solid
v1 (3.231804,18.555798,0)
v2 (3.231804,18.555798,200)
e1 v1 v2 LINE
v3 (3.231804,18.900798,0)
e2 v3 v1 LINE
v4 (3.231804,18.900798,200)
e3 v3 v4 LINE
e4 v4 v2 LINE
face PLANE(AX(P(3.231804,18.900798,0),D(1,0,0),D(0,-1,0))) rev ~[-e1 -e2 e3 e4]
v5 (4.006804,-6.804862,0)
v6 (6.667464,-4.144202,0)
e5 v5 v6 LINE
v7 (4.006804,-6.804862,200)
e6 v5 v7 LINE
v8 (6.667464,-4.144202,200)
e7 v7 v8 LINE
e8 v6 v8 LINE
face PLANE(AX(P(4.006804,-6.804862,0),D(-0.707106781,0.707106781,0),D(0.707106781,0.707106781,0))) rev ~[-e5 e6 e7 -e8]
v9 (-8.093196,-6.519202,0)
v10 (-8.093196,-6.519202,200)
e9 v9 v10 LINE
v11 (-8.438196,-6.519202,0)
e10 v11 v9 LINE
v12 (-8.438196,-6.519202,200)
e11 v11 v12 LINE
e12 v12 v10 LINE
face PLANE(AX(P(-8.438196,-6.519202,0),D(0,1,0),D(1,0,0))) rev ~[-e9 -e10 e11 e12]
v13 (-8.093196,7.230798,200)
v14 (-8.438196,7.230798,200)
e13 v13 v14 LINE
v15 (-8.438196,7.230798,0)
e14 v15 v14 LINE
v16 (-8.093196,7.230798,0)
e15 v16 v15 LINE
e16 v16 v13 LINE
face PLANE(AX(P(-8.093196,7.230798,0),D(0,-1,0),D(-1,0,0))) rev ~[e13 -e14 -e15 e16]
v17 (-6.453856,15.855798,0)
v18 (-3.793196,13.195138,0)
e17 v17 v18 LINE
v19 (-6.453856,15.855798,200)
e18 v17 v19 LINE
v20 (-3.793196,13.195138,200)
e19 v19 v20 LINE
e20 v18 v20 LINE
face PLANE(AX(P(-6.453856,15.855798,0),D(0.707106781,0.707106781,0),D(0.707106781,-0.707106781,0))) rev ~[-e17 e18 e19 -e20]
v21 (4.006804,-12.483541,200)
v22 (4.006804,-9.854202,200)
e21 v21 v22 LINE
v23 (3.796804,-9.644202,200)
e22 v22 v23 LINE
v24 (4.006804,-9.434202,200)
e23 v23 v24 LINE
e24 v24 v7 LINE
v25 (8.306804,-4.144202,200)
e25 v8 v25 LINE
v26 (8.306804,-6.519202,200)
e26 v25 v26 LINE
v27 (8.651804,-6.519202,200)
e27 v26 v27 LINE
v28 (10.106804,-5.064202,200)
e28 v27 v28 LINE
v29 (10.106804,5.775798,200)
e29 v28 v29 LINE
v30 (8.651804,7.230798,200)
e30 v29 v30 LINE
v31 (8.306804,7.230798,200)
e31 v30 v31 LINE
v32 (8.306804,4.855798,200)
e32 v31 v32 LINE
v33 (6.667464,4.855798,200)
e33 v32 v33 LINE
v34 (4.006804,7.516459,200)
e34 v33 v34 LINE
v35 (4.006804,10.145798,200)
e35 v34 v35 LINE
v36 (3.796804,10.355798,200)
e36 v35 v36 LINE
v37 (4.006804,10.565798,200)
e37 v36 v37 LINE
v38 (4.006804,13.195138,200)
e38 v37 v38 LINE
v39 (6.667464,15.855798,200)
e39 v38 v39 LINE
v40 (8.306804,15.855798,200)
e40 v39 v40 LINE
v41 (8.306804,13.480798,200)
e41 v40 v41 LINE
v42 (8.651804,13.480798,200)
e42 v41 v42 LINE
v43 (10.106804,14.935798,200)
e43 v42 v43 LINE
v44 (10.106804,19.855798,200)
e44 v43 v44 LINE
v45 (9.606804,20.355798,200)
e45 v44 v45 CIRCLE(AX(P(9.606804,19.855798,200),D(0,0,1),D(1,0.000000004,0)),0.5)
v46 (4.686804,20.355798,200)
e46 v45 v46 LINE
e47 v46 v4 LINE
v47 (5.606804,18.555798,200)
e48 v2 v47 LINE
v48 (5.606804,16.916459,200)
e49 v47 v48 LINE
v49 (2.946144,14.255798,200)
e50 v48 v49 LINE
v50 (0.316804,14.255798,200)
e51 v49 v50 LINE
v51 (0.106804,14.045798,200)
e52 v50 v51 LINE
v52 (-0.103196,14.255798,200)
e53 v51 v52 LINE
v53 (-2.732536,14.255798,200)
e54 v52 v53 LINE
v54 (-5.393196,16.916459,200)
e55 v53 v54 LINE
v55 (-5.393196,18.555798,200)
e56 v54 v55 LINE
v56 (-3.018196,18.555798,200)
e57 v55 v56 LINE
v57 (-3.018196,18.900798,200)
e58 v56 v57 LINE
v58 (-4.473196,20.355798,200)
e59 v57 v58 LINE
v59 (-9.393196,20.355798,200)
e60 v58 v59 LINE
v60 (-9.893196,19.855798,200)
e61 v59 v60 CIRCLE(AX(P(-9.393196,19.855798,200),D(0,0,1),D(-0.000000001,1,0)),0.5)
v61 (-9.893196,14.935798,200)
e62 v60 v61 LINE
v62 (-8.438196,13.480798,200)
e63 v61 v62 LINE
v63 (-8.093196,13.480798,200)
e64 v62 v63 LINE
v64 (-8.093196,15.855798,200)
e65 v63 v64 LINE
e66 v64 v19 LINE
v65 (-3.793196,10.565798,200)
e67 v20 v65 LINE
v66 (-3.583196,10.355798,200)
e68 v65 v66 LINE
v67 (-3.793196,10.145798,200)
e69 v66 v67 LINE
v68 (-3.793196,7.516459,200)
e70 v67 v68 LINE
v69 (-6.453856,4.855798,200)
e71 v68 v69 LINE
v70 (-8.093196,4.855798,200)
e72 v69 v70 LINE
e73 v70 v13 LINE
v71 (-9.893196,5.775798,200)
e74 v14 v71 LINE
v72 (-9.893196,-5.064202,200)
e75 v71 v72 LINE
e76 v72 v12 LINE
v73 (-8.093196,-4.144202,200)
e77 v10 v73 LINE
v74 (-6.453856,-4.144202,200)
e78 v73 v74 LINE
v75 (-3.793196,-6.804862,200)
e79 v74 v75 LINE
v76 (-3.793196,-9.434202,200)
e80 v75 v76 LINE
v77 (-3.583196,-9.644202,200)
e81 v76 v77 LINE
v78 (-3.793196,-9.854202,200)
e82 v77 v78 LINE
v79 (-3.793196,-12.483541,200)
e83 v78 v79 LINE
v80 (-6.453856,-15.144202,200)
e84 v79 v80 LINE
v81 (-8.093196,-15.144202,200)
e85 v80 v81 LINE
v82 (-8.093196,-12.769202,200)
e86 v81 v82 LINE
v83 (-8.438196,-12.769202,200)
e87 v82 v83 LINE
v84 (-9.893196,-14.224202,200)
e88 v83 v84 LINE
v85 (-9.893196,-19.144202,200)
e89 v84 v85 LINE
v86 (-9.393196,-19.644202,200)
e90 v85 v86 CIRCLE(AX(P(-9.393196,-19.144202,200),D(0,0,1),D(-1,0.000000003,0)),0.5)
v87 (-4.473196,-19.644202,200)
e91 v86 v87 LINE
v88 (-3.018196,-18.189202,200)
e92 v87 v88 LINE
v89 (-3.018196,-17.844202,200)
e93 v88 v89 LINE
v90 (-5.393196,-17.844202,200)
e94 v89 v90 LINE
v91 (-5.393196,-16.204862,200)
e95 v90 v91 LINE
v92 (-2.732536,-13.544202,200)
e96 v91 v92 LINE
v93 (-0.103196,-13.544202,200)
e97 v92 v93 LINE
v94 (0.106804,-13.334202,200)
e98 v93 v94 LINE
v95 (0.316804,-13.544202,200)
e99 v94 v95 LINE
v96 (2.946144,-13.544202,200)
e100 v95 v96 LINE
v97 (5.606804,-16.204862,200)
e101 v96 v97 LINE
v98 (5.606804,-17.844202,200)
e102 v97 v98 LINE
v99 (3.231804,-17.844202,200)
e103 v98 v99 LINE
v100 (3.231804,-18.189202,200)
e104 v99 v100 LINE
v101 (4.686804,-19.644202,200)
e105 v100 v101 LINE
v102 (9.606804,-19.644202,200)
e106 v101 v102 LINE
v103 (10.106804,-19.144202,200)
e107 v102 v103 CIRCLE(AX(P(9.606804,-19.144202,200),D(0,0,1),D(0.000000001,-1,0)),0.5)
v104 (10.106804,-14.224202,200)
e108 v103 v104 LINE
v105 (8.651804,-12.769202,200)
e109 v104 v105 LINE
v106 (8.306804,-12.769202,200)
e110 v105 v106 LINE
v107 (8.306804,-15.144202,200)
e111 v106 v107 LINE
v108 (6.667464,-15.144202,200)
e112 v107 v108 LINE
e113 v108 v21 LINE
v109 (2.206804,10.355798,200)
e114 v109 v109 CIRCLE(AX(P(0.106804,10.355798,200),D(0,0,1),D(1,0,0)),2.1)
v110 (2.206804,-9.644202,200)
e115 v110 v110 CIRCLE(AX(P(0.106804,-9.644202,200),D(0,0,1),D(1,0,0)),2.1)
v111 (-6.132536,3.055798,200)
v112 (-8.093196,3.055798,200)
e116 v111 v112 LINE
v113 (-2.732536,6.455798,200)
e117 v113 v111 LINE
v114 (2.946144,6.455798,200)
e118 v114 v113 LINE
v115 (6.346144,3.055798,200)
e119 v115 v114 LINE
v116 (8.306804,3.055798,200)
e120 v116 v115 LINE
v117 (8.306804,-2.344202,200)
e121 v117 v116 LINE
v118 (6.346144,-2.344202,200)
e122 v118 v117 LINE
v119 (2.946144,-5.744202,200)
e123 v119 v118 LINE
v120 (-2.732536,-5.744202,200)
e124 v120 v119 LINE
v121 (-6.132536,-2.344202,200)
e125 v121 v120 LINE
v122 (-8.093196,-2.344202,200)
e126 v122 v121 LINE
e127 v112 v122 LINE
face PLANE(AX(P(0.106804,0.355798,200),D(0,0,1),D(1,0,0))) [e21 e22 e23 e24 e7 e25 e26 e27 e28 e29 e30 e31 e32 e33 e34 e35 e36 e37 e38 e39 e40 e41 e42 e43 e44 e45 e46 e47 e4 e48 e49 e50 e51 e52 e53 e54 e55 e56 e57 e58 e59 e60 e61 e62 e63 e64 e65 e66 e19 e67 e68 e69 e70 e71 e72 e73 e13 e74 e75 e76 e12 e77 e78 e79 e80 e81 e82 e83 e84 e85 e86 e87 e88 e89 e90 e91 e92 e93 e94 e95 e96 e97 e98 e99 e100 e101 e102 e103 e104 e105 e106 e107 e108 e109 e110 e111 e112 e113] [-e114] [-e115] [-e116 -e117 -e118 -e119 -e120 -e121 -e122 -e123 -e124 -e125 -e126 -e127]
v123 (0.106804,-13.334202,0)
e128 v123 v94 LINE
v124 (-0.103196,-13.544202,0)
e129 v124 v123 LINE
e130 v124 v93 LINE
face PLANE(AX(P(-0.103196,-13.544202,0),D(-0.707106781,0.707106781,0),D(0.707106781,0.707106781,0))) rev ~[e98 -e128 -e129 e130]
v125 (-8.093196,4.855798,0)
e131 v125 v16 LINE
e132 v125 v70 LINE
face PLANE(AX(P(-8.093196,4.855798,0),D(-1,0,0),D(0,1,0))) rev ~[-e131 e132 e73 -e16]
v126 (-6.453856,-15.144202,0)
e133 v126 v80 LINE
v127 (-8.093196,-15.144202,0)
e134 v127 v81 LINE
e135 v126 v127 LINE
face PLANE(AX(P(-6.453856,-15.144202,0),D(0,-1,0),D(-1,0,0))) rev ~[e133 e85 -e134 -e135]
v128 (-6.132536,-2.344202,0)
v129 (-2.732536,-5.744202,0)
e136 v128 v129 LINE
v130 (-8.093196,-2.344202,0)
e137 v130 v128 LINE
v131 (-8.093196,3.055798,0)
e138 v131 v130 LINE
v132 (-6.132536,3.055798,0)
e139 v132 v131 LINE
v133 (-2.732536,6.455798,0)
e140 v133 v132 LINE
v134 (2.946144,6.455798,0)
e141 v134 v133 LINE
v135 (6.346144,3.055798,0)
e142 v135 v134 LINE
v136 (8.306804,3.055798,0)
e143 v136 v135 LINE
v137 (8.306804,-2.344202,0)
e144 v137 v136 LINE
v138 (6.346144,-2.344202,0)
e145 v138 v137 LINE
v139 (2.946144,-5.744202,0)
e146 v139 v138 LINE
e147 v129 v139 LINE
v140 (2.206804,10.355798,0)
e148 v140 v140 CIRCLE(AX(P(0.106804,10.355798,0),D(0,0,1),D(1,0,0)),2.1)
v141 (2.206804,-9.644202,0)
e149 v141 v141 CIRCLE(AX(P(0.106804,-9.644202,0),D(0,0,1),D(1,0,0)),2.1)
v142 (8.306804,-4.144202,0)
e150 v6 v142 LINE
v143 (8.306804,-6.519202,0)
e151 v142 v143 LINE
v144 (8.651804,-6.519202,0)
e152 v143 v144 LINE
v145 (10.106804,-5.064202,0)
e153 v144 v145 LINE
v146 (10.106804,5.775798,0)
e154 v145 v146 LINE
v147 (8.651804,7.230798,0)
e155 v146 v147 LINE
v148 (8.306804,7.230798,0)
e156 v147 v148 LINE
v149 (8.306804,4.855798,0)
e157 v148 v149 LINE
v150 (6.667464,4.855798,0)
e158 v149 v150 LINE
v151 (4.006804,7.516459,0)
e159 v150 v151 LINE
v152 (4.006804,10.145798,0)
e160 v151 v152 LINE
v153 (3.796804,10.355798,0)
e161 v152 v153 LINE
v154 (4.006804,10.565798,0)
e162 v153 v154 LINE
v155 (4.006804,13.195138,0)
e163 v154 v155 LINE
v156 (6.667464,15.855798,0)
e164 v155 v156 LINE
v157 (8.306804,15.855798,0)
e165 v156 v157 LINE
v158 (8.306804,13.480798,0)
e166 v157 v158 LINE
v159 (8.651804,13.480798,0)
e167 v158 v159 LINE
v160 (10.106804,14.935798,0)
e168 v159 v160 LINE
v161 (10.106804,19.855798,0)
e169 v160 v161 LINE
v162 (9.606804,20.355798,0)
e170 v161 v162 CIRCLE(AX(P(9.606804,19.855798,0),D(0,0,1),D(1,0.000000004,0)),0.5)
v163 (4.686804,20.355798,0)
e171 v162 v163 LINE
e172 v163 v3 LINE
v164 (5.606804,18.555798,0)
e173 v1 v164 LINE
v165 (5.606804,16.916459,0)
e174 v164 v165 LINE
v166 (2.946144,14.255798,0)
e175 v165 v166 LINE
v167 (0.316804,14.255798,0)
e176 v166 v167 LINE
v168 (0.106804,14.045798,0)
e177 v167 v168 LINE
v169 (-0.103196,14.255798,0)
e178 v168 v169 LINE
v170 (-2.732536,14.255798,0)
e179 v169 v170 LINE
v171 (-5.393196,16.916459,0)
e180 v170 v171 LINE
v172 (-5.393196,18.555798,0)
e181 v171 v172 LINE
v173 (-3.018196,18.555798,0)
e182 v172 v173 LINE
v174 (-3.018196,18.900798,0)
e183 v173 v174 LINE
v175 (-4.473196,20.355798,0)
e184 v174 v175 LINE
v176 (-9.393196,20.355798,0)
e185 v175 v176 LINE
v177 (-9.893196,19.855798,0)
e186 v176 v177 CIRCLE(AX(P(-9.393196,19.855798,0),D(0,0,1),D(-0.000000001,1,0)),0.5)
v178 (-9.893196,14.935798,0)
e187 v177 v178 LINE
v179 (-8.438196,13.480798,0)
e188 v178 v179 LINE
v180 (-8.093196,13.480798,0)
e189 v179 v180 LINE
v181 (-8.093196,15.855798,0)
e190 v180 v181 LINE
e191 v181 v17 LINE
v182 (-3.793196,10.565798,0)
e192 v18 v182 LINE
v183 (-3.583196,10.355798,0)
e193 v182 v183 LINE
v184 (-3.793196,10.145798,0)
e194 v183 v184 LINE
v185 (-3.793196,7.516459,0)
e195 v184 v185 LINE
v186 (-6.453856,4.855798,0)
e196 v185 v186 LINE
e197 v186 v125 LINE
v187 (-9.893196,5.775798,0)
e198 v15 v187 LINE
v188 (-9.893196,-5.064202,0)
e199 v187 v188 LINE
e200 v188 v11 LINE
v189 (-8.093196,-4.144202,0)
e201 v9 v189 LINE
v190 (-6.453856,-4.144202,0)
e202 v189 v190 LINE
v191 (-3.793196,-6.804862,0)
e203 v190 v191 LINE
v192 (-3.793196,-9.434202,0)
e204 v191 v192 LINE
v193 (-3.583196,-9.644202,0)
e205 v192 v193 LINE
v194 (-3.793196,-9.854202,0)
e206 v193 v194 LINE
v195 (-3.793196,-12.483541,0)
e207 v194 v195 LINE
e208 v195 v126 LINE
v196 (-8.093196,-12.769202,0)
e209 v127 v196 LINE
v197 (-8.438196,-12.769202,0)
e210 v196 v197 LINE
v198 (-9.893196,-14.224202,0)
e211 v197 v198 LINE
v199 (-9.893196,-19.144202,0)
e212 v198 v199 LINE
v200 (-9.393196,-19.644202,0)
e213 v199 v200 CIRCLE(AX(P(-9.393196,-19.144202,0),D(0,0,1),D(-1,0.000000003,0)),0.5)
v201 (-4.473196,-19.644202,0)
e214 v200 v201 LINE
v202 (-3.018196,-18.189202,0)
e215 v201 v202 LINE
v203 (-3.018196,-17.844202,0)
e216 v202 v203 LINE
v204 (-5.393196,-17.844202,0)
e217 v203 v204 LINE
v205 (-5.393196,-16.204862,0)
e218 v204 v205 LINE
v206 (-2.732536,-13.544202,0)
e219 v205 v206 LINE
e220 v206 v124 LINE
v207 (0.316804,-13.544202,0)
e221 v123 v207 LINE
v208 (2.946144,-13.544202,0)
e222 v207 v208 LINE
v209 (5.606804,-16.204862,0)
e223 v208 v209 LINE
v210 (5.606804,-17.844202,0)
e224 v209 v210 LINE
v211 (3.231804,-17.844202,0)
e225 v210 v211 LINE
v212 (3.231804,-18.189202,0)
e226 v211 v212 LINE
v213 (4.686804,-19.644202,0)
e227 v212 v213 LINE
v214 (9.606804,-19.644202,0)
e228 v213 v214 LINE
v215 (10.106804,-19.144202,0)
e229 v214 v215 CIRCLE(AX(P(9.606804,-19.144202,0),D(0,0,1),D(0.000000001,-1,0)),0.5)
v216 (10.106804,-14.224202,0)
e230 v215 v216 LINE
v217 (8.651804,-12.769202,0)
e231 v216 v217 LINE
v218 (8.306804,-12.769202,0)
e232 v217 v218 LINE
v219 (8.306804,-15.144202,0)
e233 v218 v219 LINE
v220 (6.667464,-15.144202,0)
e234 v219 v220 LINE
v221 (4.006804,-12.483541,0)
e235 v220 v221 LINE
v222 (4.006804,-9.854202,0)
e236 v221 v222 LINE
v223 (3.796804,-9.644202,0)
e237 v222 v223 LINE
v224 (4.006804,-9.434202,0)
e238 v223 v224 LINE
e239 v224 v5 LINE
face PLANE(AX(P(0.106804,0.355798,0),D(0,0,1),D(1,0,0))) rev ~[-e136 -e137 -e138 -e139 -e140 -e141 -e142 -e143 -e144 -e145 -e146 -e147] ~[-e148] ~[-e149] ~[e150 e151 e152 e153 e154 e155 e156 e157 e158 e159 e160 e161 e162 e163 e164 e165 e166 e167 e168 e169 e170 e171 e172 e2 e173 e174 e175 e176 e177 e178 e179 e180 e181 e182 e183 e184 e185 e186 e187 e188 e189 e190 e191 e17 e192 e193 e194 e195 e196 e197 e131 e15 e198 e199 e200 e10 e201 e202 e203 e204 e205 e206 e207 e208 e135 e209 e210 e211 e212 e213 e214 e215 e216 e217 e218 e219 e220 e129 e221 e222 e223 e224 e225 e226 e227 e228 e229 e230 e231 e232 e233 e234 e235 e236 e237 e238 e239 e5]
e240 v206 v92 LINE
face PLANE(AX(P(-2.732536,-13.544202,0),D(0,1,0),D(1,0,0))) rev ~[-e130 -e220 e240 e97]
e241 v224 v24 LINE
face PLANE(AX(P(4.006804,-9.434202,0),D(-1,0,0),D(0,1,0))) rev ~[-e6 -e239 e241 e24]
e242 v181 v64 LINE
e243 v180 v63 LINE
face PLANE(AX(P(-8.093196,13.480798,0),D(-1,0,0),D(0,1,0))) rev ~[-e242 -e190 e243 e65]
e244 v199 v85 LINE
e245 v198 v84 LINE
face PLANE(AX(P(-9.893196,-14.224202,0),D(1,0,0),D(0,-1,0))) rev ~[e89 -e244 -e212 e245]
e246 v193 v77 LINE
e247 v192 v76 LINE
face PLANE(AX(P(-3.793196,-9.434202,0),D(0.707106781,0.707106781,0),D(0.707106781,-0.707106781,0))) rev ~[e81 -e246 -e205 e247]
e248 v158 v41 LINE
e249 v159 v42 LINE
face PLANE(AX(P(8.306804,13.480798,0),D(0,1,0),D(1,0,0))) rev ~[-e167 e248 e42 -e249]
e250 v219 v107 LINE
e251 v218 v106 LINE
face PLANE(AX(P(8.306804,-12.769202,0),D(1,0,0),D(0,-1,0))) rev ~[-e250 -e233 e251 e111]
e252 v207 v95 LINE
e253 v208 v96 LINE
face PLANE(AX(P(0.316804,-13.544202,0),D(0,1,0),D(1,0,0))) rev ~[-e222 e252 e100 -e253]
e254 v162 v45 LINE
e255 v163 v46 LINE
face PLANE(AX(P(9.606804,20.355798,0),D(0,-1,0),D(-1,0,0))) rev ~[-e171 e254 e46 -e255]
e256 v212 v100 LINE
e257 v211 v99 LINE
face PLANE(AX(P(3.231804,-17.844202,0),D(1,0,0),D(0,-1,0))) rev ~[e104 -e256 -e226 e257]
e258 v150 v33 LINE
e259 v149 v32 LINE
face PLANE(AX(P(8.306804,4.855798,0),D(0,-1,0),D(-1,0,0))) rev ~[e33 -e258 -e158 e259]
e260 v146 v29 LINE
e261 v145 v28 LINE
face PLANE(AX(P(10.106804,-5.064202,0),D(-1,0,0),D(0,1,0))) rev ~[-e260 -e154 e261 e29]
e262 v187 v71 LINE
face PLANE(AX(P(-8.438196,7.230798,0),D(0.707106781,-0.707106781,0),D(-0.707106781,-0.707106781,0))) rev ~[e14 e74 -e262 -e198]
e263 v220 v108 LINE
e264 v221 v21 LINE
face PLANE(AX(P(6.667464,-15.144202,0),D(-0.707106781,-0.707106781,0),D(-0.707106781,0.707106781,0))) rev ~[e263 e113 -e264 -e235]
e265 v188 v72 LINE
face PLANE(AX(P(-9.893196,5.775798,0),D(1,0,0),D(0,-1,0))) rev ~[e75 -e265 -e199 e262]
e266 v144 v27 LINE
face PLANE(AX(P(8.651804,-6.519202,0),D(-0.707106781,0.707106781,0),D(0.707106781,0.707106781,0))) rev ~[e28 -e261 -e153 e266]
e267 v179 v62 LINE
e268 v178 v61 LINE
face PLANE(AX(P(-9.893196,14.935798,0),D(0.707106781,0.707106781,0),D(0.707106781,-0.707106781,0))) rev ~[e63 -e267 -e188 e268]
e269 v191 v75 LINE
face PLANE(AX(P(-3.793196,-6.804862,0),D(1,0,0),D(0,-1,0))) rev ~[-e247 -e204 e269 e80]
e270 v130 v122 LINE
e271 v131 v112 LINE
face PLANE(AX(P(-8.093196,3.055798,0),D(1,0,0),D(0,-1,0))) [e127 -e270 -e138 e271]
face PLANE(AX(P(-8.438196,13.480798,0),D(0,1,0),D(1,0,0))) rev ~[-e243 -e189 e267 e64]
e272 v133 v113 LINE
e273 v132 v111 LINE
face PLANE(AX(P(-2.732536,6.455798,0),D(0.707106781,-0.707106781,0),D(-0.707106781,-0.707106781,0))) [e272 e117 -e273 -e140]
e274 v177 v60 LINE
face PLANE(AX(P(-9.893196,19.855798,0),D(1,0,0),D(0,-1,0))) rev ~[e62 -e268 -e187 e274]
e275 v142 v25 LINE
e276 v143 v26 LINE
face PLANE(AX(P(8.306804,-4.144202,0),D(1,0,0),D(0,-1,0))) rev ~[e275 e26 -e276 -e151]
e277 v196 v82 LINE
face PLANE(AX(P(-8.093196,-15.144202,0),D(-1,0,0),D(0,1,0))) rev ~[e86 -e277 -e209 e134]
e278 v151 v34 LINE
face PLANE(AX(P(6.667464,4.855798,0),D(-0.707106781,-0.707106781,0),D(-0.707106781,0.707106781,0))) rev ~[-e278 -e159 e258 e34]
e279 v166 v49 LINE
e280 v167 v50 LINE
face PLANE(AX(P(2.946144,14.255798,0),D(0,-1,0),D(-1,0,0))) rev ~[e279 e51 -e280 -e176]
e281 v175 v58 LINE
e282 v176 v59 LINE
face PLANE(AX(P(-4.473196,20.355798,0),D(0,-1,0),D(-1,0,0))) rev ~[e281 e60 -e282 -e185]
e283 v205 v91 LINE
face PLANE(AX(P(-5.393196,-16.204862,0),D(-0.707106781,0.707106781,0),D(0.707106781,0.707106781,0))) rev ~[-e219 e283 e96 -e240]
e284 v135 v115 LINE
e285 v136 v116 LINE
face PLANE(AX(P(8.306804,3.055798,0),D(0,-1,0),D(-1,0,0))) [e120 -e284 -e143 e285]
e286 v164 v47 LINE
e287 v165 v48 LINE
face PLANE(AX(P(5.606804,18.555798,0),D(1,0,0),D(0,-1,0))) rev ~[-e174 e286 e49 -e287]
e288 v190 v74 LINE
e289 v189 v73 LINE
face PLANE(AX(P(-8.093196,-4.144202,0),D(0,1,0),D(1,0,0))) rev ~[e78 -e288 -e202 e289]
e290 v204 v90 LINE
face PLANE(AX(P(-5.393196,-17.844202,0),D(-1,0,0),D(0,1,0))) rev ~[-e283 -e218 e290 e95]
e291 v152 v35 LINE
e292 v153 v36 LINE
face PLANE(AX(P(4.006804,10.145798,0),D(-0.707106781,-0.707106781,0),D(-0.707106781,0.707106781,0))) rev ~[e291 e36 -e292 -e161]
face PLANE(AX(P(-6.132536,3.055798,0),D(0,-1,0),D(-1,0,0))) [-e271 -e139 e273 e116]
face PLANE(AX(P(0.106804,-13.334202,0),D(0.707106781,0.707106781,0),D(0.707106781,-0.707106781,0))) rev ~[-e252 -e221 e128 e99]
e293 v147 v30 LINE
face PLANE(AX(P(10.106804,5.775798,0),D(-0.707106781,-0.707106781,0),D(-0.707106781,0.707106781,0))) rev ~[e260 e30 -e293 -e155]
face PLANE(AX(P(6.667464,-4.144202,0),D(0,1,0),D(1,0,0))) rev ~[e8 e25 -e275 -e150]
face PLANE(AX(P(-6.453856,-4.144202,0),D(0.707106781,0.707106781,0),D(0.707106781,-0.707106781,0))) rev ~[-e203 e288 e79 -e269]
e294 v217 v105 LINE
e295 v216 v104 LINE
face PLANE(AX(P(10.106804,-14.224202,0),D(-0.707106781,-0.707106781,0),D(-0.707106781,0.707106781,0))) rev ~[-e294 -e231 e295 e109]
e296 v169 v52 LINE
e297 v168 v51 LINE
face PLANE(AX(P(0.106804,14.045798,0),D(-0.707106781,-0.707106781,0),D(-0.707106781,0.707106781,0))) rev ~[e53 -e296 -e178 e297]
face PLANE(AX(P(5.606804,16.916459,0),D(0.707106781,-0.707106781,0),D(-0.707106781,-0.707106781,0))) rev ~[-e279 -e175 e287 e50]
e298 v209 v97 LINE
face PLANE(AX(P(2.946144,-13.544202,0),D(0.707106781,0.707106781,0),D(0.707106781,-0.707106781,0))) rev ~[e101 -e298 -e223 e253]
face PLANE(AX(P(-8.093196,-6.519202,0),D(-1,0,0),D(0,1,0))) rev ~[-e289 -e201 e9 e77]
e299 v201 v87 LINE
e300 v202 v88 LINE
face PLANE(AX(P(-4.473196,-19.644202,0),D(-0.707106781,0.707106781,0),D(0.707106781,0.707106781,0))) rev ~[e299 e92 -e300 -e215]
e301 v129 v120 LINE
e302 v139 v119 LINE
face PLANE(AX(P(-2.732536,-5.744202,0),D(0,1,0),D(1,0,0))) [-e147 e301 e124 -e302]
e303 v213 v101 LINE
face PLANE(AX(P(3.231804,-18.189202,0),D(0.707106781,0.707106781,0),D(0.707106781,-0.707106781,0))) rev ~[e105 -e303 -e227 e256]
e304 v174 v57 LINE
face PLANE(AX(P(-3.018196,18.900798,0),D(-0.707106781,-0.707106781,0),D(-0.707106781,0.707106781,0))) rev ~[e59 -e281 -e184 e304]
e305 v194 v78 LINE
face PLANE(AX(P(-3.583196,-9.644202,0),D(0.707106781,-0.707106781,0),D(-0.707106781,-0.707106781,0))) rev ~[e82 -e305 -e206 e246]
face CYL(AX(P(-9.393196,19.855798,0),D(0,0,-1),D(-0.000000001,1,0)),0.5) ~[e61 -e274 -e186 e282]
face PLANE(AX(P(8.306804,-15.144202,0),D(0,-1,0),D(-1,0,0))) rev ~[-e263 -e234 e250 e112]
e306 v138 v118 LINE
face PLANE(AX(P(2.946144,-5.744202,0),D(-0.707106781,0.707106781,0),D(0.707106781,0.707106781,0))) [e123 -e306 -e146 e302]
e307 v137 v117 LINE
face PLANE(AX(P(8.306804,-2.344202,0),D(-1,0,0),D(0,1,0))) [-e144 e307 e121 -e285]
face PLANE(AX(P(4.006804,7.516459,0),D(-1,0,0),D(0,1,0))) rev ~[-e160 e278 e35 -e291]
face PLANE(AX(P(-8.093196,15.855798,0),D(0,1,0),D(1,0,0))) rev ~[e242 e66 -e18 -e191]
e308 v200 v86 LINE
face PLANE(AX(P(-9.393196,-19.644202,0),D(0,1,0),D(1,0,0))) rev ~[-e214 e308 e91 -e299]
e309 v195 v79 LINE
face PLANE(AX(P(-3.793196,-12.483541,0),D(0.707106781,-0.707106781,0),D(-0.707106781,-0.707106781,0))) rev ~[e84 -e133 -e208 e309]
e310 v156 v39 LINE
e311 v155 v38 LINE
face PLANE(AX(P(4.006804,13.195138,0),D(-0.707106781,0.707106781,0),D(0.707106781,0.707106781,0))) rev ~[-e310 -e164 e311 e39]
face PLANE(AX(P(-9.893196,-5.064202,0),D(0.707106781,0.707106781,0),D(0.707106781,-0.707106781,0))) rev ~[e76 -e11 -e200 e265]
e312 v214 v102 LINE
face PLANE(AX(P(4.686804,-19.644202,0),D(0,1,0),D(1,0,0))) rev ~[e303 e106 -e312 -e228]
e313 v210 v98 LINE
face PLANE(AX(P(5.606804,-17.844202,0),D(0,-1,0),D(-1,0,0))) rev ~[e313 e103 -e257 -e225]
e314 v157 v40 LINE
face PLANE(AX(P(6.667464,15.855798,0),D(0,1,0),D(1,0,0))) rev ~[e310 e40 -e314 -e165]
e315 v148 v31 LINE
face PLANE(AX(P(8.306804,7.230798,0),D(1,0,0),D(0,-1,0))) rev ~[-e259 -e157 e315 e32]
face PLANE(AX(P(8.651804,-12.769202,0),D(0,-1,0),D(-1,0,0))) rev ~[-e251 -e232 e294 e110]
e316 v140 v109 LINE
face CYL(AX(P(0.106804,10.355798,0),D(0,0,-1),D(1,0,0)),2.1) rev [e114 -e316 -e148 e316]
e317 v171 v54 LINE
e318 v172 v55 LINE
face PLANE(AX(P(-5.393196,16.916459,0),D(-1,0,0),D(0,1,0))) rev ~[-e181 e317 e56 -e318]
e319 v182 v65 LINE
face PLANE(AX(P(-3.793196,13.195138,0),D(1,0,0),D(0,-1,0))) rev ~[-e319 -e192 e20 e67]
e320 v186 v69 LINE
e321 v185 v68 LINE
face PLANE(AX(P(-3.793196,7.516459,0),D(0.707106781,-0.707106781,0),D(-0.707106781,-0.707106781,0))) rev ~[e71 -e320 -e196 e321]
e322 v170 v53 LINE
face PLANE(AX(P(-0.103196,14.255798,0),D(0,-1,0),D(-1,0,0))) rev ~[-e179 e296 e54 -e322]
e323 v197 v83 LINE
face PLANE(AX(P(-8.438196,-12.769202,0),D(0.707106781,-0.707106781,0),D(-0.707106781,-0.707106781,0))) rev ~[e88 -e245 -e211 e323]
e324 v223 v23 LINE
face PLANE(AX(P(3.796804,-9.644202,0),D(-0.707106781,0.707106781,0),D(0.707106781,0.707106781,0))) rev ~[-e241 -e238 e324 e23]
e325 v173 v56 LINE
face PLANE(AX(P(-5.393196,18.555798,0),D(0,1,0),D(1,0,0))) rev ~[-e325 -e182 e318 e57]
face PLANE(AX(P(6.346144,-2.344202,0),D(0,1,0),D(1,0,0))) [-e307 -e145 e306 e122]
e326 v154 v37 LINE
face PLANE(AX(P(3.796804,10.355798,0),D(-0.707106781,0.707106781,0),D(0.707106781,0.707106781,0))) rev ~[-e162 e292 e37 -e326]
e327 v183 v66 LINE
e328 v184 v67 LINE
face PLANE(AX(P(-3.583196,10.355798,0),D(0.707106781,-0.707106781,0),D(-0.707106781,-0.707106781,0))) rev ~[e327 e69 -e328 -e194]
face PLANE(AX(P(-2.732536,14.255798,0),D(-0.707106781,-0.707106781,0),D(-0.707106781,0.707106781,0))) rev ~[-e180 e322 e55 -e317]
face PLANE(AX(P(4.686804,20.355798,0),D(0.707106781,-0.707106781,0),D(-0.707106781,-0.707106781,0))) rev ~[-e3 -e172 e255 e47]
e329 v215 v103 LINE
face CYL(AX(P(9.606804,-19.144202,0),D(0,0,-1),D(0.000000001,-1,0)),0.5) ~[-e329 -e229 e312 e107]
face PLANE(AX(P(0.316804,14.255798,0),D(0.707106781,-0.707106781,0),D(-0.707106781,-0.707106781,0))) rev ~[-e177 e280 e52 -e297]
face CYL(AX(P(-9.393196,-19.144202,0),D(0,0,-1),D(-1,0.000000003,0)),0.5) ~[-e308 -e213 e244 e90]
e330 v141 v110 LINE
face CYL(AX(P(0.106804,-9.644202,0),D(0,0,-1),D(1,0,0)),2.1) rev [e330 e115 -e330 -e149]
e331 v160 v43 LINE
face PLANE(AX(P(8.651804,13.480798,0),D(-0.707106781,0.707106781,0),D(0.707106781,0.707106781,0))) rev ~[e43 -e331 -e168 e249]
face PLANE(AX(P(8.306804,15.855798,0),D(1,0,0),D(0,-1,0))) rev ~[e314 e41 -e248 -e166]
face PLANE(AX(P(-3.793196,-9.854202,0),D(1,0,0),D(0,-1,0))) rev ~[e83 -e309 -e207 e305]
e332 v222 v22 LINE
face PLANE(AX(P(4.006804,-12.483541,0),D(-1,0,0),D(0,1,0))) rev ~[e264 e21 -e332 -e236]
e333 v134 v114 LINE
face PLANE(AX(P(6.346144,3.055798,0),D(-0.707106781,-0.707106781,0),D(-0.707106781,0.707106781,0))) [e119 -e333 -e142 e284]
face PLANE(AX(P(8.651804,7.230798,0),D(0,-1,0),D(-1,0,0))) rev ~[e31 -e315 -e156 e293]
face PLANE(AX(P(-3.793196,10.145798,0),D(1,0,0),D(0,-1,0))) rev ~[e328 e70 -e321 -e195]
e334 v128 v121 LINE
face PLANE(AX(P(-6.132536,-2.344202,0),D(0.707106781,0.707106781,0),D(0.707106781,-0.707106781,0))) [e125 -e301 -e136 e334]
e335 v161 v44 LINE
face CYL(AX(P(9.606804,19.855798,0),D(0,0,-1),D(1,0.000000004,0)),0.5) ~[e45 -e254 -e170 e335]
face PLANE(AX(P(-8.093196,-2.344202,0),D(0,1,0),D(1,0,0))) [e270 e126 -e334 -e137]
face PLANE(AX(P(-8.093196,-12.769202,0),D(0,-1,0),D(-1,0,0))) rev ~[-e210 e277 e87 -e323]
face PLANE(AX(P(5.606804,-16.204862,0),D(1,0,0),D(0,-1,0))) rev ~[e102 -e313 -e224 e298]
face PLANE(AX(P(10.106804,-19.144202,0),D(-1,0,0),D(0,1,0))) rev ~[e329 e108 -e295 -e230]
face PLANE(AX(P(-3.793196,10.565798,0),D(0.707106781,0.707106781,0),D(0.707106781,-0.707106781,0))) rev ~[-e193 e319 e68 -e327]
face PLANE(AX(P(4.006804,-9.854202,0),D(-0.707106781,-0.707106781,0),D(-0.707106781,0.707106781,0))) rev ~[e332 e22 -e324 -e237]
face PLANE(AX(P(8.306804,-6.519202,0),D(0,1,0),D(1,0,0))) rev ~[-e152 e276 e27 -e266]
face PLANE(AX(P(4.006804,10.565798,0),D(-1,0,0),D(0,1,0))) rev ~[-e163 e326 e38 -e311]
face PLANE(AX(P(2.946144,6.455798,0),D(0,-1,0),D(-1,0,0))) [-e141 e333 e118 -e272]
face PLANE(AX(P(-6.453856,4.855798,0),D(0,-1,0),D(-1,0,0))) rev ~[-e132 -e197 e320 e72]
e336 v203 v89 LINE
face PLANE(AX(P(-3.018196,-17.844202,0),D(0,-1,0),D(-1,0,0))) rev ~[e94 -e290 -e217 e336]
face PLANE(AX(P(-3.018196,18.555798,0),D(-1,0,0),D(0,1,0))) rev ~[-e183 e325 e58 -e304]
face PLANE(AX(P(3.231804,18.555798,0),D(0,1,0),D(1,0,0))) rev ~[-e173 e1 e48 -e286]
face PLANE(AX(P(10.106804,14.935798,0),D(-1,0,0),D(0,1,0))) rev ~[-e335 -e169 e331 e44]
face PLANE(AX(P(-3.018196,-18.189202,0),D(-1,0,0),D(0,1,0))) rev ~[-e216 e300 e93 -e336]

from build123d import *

# Parameters (mm, degrees)
SKETCH2_R           = 2.1
BOSS_EXTRUDE1_DEPTH = 200


with BuildPart() as part:
    # Sketch2 → Boss-Extrude1 (new body)
    with BuildSketch(Plane.XY):
        with BuildLine():
            Line((4.006804208, 10.145798499), (3.796804208, 10.355798499))
            Line((3.796804208, 10.355798499), (4.006804208, 10.565798499))
            Line((4.006804208, 10.565798499), (4.006804208, 13.195138327))
            Line((4.006804208, 13.195138327), (6.66746438, 15.855798499))
            Line((6.66746438, 15.855798499), (8.306804208, 15.855798499))
            Line((8.306804208, 15.855798499), (8.306804208, 13.480798499))
            Line((8.306804208, 13.480798499), (8.651804208, 13.480798499))
            Line((8.651804208, 13.480798499), (10.106804208, 14.935798499))
            Line((10.106804208, 14.935798499), (10.106804208, 19.855798499))
            ThreePointArc((10.106804208, 19.855798499), (9.960357598, 20.209351889), (9.606804208, 20.355798499))
            Line((9.606804208, 20.355798499), (4.686804208, 20.355798499))
            Line((4.686804208, 20.355798499), (3.231804208, 18.900798499))
            Line((3.231804208, 18.900798499), (3.231804208, 18.555798499))
            Line((3.231804208, 18.555798499), (5.606804208, 18.555798499))
            Line((5.606804208, 18.555798499), (5.606804208, 16.91645867))
            Line((5.606804208, 16.91645867), (2.946144036, 14.255798499))
            Line((2.946144036, 14.255798499), (0.316804208, 14.255798499))
            Line((0.316804208, 14.255798499), (0.106804208, 14.045798499))
            Line((0.106804208, 14.045798499), (-0.103195792, 14.255798499))
            Line((-0.103195792, 14.255798499), (-2.73253562, 14.255798499))
            Line((-2.73253562, 14.255798499), (-5.393195792, 16.91645867))
            Line((-5.393195792, 16.91645867), (-5.393195792, 18.555798499))
            Line((-5.393195792, 18.555798499), (-3.018195792, 18.555798499))
            Line((-3.018195792, 18.555798499), (-3.018195792, 18.900798499))
            Line((-3.018195792, 18.900798499), (-4.473195792, 20.355798499))
            Line((-4.473195792, 20.355798499), (-9.393195792, 20.355798499))
            ThreePointArc((-9.393195792, 20.355798499), (-9.746749183, 20.209351889), (-9.893195792, 19.855798499))
            Line((-9.893195792, 19.855798499), (-9.893195792, 14.935798499))
            Line((-9.893195792, 14.935798499), (-8.438195792, 13.480798499))
            Line((-8.438195792, 13.480798499), (-8.093195792, 13.480798499))
            Line((-8.093195792, 13.480798499), (-8.093195792, 15.855798499))
            Line((-8.093195792, 15.855798499), (-6.453855964, 15.855798499))
            Line((-6.453855964, 15.855798499), (-3.793195792, 13.195138327))
            Line((-3.793195792, 13.195138327), (-3.793195792, 10.565798499))
            Line((-3.793195792, 10.565798499), (-3.583195792, 10.355798499))
            Line((-3.583195792, 10.355798499), (-3.793195792, 10.145798499))
            Line((-3.793195792, 10.145798499), (-3.793195792, 7.51645867))
            Line((-3.793195792, 7.51645867), (-6.453855964, 4.855798499))
            Line((-6.453855964, 4.855798499), (-8.093195792, 4.855798499))
            Line((-8.093195792, 4.855798499), (-8.093195792, 7.230798499))
            Line((-8.093195792, 7.230798499), (-8.438195792, 7.230798499))
            Line((-8.438195792, 7.230798499), (-9.893195792, 5.775798499))
            Line((-9.893195792, 5.775798499), (-9.893195792, -5.064201501))
            Line((-9.893195792, -5.064201501), (-8.438195792, -6.519201501))
            Line((-8.438195792, -6.519201501), (-8.093195792, -6.519201501))
            Line((-8.093195792, -6.519201501), (-8.093195792, -4.144201501))
            Line((-8.093195792, -4.144201501), (-6.453855964, -4.144201501))
            Line((-6.453855964, -4.144201501), (-3.793195792, -6.804861673))
            Line((-3.793195792, -6.804861673), (-3.793195792, -9.434201501))
            Line((-3.793195792, -9.434201501), (-3.583195792, -9.644201501))
            Line((-3.583195792, -9.644201501), (-3.793195792, -9.854201501))
            Line((-3.793195792, -9.854201501), (-3.793195792, -12.48354133))
            Line((-3.793195792, -12.48354133), (-6.453855964, -15.144201501))
            Line((-6.453855964, -15.144201501), (-8.093195792, -15.144201501))
            Line((-8.093195792, -15.144201501), (-8.093195792, -12.769201501))
            Line((-8.093195792, -12.769201501), (-8.438195792, -12.769201501))
            Line((-8.438195792, -12.769201501), (-9.893195792, -14.224201501))
            Line((-9.893195792, -14.224201501), (-9.893195792, -19.144201501))
            ThreePointArc((-9.893195792, -19.144201501), (-9.746749183, -19.497754892), (-9.393195792, -19.644201501))
            Line((-9.393195792, -19.644201501), (-4.473195792, -19.644201501))
            Line((-4.473195792, -19.644201501), (-3.018195792, -18.189201501))
            Line((-3.018195792, -18.189201501), (-3.018195792, -17.844201501))
            Line((-3.018195792, -17.844201501), (-5.393195792, -17.844201501))
            Line((-5.393195792, -17.844201501), (-5.393195792, -16.204861673))
            Line((-5.393195792, -16.204861673), (-2.73253562, -13.544201501))
            Line((-2.73253562, -13.544201501), (-0.103195792, -13.544201501))
            Line((-0.103195792, -13.544201501), (0.106804208, -13.334201501))
            Line((0.106804208, -13.334201501), (0.316804208, -13.544201501))
            Line((0.316804208, -13.544201501), (2.946144036, -13.544201501))
            Line((2.946144036, -13.544201501), (5.606804208, -16.204861673))
            Line((5.606804208, -16.204861673), (5.606804208, -17.844201501))
            Line((5.606804208, -17.844201501), (3.231804208, -17.844201501))
            Line((3.231804208, -17.844201501), (3.231804208, -18.189201501))
            Line((3.231804208, -18.189201501), (4.686804208, -19.644201501))
            Line((4.686804208, -19.644201501), (9.606804208, -19.644201501))
            ThreePointArc((9.606804208, -19.644201501), (9.960357598, -19.497754892), (10.106804208, -19.144201501))
            Line((10.106804208, -19.144201501), (10.106804208, -14.224201501))
            Line((10.106804208, -14.224201501), (8.651804208, -12.769201501))
            Line((8.651804208, -12.769201501), (8.306804208, -12.769201501))
            Line((8.306804208, -12.769201501), (8.306804208, -15.144201501))
            Line((8.306804208, -15.144201501), (6.66746438, -15.144201501))
            Line((6.66746438, -15.144201501), (4.006804208, -12.48354133))
            Line((4.006804208, -12.48354133), (4.006804208, -9.854201501))
            Line((4.006804208, -9.854201501), (3.796804208, -9.644201501))
            Line((3.796804208, -9.644201501), (4.006804208, -9.434201501))
            Line((4.006804208, -9.434201501), (4.006804208, -6.804861673))
            Line((4.006804208, -6.804861673), (6.66746438, -4.144201501))
            Line((6.66746438, -4.144201501), (8.306804208, -4.144201501))
            Line((8.306804208, -4.144201501), (8.306804208, -6.519201501))
            Line((8.306804208, -6.519201501), (8.651804208, -6.519201501))
            Line((8.651804208, -6.519201501), (10.106804208, -5.064201501))
            Line((10.106804208, -5.064201501), (10.106804208, 5.775798499))
            Line((10.106804208, 5.775798499), (8.651804208, 7.230798499))
            Line((8.651804208, 7.230798499), (8.306804208, 7.230798499))
            Line((8.306804208, 7.230798499), (8.306804208, 4.855798499))
            Line((8.306804208, 4.855798499), (6.66746438, 4.855798499))
            Line((6.66746438, 4.855798499), (4.006804208, 7.51645867))
            Line((4.006804208, 7.51645867), (4.006804208, 10.145798499))
        make_face()
        with Locations((0.106804208, -9.644201501)):
            Circle(SKETCH2_R, mode=Mode.SUBTRACT)
        with Locations((0.106804208, 10.355798499)):
            Circle(SKETCH2_R, mode=Mode.SUBTRACT)
        Polygon((-6.13253562, -2.344201501), (-2.73253562, -5.744201501), (2.946144036, -5.744201501), (6.346144036, -2.344201501), (8.306804208, -2.344201501), (8.306804208, 3.055798499), (6.346144036, 3.055798499), (2.946144036, 6.455798499), (-2.73253562, 6.455798499), (-6.13253562, 3.055798499), (-8.093195792, 3.055798499), (-8.093195792, -2.344201501), align=None, mode=Mode.SUBTRACT)
    extrude(amount=BOSS_EXTRUDE1_DEPTH)


solid = part.part
